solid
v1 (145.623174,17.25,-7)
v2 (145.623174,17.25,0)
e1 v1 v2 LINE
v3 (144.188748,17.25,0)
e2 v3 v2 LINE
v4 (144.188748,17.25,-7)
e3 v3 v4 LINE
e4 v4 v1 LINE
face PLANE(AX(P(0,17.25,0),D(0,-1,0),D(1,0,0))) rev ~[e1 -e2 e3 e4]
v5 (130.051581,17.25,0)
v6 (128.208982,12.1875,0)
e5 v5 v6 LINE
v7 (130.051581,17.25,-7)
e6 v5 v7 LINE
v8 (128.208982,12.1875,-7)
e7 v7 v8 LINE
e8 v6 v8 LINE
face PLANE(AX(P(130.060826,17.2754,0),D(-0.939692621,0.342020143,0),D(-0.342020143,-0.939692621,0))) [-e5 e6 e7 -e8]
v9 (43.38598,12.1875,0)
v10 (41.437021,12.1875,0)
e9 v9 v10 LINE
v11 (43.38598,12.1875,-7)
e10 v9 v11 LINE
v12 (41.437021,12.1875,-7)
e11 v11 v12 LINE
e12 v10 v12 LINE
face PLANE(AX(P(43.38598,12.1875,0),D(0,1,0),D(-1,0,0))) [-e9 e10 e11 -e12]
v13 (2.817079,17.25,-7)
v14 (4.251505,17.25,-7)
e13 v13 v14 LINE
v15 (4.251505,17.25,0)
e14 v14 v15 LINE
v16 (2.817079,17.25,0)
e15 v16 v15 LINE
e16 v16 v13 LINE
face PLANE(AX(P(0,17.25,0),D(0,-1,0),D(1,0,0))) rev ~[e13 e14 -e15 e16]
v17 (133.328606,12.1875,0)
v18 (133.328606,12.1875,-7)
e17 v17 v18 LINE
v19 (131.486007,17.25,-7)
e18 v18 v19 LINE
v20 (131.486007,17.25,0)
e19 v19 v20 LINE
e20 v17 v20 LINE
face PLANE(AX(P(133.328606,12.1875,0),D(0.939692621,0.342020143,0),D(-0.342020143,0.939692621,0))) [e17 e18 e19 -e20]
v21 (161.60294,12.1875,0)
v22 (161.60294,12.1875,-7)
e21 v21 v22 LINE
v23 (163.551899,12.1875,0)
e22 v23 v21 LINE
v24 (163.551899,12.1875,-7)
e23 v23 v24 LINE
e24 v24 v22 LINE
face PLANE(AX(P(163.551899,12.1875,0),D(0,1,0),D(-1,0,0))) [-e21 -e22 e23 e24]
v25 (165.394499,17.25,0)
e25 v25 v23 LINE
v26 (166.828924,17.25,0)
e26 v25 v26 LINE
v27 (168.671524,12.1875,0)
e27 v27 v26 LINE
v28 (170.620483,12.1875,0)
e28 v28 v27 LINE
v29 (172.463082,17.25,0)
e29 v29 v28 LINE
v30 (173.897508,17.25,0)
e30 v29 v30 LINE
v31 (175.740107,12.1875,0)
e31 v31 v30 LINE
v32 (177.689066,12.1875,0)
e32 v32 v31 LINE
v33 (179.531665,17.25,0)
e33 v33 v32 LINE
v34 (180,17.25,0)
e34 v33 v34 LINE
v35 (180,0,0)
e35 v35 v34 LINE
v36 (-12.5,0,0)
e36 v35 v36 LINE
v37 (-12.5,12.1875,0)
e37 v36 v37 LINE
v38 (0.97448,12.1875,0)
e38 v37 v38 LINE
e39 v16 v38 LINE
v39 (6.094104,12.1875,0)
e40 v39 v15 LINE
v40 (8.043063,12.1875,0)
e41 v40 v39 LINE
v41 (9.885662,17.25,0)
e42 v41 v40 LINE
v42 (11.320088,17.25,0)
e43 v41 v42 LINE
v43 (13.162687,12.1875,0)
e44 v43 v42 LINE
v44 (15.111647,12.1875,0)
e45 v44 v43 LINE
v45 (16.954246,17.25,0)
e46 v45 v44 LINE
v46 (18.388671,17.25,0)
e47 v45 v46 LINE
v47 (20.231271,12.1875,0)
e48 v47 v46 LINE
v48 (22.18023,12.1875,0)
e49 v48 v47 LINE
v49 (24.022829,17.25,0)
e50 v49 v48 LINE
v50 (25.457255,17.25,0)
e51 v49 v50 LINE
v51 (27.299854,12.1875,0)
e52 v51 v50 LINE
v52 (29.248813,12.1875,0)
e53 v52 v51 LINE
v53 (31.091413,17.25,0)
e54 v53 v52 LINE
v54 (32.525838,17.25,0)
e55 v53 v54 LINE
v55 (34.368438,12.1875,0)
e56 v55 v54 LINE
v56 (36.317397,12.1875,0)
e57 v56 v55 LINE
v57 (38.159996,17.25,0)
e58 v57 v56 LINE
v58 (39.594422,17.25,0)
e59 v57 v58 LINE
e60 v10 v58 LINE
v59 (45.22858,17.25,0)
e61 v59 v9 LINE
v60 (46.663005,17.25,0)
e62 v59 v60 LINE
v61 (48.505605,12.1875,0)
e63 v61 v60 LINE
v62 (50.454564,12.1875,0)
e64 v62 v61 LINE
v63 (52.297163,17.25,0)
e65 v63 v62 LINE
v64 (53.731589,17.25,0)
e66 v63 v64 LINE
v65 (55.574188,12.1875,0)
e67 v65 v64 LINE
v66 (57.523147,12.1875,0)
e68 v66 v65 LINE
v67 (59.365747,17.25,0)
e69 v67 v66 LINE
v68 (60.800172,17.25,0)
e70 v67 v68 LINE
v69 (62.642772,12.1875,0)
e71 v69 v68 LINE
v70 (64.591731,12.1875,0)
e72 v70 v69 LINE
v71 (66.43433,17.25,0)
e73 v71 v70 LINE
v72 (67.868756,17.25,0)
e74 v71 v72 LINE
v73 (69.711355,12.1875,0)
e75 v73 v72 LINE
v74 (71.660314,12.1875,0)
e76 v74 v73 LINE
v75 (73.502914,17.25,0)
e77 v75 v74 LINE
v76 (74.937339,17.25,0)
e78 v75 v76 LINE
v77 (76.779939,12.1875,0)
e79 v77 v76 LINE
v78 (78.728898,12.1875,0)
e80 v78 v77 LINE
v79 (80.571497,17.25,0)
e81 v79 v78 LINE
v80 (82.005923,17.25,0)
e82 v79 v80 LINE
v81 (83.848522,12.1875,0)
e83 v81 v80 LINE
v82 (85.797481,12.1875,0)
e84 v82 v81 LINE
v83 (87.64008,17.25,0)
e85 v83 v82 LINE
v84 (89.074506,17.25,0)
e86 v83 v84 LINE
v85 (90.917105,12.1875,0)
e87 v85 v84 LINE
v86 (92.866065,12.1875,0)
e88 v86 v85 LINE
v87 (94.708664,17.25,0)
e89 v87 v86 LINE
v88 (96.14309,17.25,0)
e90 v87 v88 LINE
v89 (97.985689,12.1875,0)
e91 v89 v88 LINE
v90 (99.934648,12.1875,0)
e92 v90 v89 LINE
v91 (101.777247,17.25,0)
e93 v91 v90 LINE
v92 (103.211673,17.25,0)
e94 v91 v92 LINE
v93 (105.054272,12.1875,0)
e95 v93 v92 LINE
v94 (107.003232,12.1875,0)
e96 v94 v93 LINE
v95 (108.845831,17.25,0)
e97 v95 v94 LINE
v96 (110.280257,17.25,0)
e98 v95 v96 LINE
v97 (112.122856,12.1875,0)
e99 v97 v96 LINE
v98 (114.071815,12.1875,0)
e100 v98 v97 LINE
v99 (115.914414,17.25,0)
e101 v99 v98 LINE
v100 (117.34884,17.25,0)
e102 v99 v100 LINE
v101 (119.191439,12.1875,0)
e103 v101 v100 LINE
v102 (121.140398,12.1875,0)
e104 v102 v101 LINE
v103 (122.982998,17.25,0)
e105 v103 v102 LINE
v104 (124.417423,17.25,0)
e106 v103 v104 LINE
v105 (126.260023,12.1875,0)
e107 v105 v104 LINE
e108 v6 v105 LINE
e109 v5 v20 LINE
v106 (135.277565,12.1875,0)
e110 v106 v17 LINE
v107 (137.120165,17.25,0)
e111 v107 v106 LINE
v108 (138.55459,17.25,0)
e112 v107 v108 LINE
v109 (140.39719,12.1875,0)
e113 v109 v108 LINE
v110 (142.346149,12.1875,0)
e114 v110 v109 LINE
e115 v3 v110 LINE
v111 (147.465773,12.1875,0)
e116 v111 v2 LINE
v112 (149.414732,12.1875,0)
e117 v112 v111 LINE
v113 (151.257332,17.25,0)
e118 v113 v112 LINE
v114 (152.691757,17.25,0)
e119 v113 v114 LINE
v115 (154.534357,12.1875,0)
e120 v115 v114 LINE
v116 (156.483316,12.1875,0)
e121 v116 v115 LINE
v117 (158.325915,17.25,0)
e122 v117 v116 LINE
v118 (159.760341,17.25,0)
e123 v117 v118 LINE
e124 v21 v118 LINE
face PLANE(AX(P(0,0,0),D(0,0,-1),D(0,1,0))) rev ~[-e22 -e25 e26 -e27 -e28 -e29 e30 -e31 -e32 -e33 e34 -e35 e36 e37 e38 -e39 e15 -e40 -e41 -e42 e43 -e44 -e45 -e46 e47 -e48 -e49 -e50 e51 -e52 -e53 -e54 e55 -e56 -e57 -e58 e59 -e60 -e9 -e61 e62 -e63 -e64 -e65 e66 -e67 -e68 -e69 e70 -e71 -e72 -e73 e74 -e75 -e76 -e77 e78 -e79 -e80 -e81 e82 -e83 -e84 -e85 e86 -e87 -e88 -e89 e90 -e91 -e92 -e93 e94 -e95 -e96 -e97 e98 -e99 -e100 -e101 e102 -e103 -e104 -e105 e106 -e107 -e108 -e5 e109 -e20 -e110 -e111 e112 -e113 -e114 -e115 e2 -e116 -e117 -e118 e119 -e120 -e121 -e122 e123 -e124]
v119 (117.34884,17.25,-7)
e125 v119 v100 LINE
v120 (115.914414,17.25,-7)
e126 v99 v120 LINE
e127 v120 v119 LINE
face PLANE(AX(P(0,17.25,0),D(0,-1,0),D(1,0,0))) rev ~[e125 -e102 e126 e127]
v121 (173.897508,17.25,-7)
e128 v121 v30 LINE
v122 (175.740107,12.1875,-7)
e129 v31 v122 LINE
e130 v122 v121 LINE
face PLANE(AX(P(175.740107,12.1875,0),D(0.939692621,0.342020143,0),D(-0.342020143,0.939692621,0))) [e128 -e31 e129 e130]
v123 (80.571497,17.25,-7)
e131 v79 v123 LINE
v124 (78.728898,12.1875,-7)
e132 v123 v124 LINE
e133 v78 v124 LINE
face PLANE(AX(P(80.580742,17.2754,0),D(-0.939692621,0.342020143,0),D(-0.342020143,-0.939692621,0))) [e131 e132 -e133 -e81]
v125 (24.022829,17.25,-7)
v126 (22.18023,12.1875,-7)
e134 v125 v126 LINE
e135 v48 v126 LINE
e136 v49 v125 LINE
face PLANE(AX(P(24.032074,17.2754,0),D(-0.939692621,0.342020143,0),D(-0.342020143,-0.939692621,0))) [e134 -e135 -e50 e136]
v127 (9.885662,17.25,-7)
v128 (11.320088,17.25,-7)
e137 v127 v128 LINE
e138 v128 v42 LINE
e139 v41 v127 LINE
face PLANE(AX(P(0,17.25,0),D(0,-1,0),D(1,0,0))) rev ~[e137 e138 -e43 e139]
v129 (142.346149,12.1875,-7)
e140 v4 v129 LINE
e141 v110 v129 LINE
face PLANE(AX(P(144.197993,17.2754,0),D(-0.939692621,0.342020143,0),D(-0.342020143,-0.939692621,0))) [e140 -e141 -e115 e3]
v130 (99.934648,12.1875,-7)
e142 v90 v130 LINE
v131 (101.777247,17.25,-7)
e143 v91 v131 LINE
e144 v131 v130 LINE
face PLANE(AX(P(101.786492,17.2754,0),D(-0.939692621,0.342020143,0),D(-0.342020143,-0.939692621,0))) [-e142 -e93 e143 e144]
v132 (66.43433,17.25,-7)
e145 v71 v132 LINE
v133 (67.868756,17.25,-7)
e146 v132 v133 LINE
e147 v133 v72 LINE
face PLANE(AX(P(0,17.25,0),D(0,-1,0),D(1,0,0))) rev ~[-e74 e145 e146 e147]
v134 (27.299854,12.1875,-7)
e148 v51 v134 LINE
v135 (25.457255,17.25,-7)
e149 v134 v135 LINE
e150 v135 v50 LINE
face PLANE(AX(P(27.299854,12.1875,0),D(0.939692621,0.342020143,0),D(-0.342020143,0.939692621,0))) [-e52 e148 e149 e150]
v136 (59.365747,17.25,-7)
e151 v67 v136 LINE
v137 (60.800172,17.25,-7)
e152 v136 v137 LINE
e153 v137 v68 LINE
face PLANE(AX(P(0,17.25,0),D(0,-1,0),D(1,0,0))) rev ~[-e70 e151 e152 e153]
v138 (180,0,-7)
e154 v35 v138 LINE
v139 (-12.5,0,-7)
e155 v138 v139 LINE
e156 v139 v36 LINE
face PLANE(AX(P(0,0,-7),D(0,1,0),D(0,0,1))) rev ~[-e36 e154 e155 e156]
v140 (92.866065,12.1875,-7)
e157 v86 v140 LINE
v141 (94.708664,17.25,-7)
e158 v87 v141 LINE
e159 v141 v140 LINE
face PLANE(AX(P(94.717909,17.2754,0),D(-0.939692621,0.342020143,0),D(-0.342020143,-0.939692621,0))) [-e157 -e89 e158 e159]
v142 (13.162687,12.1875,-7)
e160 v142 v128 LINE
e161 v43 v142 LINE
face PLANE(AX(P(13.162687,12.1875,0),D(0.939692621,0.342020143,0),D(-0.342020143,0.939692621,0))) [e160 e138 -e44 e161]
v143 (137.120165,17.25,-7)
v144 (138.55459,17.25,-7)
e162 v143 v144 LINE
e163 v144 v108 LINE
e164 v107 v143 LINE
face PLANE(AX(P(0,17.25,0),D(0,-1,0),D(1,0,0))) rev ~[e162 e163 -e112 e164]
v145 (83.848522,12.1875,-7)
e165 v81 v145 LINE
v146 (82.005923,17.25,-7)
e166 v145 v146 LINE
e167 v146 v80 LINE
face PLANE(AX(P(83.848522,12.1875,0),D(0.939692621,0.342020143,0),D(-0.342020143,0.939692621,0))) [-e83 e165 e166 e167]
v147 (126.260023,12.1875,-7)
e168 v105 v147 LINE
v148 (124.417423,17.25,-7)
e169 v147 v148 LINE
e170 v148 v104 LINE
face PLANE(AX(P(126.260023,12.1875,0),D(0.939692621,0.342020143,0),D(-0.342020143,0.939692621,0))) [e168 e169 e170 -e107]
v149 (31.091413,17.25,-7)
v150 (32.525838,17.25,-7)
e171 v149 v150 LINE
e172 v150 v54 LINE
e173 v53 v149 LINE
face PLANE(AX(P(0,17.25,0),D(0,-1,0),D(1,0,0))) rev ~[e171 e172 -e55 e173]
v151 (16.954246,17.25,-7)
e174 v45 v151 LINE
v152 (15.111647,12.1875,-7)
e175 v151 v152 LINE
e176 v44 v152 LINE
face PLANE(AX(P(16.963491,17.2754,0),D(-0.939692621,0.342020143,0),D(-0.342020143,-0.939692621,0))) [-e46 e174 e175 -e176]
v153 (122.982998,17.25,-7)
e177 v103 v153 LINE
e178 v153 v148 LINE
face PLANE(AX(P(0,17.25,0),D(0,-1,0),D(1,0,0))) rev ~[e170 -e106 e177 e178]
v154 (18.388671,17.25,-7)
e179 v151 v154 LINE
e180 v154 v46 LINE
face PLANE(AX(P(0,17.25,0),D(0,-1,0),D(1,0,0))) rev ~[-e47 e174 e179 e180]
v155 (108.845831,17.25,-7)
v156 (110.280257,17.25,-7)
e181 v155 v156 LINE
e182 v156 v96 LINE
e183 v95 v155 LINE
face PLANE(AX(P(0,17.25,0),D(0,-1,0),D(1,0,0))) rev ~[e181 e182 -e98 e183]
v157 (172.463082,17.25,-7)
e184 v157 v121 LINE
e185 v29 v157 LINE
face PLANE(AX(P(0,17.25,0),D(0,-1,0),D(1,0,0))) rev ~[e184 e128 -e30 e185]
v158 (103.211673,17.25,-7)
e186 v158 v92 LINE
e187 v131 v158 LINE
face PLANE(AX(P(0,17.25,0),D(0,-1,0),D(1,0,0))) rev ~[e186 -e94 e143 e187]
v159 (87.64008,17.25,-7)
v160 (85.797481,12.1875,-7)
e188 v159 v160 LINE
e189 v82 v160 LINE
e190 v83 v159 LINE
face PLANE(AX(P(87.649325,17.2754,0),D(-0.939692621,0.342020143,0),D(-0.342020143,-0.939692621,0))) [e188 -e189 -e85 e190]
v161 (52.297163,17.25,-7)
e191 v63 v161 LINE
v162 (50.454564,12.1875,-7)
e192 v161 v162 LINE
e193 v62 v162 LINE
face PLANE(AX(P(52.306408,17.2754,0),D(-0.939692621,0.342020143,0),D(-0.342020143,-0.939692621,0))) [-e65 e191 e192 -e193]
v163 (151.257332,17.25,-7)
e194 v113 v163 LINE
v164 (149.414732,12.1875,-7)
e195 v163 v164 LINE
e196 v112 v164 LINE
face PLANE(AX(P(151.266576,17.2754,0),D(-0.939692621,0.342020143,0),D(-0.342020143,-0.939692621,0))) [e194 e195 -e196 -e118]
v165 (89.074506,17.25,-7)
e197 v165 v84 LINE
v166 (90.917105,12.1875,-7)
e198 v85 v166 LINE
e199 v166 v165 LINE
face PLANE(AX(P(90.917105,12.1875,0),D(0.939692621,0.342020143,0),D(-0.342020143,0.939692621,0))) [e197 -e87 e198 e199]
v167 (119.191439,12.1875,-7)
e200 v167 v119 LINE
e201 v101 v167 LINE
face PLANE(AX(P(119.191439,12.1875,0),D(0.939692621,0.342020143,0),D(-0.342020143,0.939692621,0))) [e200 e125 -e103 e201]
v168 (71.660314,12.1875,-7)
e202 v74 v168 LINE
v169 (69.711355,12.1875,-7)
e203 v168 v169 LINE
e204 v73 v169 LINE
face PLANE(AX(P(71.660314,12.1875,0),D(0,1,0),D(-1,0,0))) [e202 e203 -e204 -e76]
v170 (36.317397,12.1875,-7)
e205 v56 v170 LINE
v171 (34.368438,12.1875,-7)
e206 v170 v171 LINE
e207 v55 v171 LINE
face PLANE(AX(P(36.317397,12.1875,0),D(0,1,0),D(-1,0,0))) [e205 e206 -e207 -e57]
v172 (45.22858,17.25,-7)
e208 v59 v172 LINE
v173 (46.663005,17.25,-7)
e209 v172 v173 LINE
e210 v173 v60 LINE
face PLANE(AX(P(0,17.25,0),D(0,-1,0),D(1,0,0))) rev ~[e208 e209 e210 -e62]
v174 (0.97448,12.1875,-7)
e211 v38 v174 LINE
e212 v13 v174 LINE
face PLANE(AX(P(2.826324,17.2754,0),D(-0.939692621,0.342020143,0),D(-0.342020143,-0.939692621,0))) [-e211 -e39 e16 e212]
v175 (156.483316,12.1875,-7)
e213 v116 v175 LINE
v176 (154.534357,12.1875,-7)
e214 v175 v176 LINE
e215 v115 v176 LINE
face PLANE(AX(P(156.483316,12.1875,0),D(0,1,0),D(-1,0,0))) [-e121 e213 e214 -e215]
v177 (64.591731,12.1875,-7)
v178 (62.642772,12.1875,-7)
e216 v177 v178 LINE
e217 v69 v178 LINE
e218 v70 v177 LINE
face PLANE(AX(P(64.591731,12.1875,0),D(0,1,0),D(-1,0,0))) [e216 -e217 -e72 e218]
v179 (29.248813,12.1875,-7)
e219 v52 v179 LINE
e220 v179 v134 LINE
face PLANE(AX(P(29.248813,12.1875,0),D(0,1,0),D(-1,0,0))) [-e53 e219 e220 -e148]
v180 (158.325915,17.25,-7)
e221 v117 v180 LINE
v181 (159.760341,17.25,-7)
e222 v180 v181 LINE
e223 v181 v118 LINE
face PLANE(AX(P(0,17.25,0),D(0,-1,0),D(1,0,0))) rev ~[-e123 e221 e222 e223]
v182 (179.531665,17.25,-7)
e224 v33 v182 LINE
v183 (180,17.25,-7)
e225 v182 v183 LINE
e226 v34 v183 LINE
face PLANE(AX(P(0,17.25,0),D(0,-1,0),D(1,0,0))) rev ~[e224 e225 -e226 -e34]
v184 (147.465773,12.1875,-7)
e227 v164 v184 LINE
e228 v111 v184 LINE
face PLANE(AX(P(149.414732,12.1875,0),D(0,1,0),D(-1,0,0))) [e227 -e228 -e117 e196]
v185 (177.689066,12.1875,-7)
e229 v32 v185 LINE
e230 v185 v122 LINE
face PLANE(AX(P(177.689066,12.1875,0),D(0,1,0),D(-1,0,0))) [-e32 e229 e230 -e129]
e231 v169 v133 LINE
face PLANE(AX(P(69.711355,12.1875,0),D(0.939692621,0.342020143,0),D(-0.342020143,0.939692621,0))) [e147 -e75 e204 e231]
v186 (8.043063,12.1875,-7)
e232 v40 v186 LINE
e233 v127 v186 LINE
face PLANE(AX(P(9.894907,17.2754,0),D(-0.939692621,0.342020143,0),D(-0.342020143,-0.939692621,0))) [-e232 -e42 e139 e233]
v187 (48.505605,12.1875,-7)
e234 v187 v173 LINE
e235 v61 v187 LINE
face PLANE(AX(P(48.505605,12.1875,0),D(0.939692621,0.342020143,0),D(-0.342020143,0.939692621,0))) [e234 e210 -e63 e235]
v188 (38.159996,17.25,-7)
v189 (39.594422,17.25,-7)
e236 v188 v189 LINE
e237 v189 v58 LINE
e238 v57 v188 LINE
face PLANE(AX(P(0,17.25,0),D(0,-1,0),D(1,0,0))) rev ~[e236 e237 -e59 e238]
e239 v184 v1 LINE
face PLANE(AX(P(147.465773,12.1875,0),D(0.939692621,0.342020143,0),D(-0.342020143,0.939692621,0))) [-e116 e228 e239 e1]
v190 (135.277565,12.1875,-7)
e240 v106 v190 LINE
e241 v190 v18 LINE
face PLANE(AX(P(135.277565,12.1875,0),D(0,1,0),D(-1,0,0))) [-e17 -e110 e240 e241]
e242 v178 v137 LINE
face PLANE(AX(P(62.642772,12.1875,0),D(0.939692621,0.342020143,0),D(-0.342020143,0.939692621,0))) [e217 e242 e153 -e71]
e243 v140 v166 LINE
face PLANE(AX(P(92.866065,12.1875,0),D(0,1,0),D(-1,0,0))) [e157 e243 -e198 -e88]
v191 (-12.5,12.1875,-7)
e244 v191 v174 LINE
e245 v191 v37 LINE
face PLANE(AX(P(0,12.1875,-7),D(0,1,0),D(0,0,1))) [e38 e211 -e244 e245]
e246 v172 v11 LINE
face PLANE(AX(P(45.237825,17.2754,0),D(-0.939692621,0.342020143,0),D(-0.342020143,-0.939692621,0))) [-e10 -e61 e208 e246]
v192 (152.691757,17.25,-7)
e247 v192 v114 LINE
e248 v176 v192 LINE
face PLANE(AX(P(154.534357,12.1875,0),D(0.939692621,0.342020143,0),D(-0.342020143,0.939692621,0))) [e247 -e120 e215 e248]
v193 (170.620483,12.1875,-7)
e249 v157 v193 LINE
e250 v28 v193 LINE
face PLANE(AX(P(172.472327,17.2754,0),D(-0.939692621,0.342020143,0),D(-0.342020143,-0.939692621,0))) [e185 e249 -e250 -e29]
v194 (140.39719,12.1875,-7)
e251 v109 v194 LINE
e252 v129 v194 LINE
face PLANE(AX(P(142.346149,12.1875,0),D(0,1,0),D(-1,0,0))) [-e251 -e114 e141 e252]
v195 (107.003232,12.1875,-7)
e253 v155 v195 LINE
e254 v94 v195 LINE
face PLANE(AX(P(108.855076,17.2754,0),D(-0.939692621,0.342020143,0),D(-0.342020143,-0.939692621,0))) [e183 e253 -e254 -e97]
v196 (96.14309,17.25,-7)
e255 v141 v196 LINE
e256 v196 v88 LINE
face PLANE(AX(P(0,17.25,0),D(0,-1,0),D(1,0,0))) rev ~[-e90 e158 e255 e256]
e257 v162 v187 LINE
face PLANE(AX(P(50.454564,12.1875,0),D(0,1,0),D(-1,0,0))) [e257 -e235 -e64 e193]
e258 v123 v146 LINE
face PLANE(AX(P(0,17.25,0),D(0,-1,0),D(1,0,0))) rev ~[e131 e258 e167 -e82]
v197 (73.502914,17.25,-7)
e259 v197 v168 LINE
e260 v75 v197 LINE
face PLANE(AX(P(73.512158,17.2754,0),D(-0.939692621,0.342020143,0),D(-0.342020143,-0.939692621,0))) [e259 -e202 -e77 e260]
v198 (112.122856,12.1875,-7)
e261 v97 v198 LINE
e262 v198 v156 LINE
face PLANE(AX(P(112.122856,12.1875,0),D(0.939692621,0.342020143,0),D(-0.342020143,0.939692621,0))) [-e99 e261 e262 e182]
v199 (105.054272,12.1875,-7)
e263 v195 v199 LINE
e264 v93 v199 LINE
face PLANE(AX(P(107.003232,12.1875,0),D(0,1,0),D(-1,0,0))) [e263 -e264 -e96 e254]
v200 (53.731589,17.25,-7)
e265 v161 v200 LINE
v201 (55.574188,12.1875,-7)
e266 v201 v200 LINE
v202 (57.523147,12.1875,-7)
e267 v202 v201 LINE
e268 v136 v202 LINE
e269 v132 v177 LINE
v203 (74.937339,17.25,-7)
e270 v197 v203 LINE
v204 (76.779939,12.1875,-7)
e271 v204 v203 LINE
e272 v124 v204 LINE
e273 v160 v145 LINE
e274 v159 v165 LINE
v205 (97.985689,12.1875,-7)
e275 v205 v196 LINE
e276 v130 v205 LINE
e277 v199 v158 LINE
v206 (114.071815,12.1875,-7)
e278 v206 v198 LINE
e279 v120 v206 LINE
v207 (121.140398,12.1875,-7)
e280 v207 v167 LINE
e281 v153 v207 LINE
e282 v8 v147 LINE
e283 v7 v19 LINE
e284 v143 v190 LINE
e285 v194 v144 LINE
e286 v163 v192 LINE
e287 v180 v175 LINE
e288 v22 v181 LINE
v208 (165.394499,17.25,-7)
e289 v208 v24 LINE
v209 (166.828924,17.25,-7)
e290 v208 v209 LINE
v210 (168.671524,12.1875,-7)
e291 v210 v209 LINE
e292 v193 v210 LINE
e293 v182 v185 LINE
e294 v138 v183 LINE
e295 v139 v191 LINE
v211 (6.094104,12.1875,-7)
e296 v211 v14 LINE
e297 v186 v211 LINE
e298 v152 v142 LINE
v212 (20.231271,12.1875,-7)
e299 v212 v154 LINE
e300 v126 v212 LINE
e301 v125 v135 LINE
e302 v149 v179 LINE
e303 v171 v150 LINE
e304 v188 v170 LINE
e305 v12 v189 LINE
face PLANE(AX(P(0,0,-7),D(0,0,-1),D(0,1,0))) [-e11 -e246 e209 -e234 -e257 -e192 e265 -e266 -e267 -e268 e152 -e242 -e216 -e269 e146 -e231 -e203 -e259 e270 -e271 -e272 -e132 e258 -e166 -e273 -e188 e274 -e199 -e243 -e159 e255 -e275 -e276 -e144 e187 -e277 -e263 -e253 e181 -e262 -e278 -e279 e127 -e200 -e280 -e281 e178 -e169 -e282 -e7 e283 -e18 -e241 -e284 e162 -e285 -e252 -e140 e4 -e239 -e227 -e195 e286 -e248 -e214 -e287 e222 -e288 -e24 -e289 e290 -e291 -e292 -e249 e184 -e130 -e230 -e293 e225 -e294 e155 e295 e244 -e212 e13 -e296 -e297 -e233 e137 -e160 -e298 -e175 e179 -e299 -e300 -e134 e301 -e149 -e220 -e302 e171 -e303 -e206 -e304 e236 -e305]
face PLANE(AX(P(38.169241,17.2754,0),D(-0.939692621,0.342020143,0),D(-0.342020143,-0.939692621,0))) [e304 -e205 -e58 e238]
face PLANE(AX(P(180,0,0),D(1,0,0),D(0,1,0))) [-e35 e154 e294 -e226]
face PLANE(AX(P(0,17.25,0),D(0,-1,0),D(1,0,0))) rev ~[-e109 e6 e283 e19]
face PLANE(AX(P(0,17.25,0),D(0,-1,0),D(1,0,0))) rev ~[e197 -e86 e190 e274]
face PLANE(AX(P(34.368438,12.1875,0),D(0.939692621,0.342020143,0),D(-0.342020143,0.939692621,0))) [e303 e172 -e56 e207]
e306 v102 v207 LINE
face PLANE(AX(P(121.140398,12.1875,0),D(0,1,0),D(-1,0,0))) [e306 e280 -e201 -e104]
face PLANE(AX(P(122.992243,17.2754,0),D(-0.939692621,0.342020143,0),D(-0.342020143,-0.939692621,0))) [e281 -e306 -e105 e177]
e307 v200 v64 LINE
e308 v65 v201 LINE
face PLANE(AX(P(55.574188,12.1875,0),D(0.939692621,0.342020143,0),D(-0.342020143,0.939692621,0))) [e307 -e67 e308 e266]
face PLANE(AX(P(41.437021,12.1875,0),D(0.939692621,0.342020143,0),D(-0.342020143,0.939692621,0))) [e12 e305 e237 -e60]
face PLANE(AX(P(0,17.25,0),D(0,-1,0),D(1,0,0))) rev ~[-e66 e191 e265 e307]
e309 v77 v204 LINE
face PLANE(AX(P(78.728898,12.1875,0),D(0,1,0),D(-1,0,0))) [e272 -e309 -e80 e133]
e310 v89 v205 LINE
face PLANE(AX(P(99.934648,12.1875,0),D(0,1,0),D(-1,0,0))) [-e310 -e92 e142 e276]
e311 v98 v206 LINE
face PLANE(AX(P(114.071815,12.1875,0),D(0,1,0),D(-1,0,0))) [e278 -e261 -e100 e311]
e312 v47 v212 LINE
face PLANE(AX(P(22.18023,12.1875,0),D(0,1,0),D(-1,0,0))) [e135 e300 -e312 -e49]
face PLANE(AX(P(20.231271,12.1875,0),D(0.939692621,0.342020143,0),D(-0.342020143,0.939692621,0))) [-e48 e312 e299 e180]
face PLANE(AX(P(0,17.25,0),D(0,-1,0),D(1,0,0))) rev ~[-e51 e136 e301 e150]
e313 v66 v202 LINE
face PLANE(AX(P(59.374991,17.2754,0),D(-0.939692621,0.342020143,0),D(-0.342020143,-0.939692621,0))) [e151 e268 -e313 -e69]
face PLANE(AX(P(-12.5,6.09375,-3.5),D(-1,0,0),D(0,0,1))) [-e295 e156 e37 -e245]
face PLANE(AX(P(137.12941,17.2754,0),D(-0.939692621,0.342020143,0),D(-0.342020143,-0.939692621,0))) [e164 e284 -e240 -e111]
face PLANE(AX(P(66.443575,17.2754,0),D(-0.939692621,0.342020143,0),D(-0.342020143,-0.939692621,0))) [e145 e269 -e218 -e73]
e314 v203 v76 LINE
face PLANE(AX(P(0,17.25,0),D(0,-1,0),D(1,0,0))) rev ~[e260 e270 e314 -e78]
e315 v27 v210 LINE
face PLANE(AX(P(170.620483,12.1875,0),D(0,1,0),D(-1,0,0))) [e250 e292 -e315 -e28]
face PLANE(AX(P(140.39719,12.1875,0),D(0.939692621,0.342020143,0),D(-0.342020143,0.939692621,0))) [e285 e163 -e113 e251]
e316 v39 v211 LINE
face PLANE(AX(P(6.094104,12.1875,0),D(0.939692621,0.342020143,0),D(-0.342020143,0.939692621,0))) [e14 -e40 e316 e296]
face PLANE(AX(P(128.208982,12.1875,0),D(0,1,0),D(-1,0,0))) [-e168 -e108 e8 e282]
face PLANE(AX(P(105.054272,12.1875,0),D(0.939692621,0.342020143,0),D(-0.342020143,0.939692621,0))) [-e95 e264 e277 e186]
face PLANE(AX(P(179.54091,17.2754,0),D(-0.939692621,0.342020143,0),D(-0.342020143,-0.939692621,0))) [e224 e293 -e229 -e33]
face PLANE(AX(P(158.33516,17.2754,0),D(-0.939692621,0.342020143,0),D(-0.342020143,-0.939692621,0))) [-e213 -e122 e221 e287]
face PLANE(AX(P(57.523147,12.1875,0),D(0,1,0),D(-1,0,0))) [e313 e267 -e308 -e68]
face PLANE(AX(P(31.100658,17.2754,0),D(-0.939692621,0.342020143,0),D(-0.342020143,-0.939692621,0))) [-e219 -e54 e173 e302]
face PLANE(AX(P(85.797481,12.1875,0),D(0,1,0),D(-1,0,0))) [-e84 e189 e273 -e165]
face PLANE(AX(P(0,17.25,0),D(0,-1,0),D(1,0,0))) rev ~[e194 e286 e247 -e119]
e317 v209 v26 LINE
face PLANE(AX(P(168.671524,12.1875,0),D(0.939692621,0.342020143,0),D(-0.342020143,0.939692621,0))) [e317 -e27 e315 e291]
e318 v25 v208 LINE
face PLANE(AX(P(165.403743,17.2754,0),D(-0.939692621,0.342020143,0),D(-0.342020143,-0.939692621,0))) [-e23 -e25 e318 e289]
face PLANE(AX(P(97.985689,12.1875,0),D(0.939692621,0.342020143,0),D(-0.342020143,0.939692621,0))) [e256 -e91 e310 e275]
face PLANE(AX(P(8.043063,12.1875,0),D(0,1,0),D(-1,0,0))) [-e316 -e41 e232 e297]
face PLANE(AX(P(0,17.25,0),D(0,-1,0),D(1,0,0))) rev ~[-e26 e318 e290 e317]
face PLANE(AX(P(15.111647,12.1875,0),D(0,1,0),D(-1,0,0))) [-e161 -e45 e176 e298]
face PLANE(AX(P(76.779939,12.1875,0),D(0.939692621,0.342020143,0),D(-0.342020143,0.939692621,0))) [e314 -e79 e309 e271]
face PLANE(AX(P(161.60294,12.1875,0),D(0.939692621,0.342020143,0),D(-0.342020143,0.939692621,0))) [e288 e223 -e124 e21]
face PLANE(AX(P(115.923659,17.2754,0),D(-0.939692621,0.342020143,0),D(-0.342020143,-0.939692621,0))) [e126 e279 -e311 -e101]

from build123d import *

# Parameters (mm, degrees)
BLANKSKE_W          = 180
BLANKSKE_H          = 17.25
BLANK_DEPTH         = 7
TOOTHCUTSIM_DEPTH   = 181.960113008
TEETHCUTS_COUNT     = 26
TEETHCUTS_PITCH     = 7.068583463
SKETCH1_W           = 7
SKETCH1_H           = 12.1875
BOSS_EXTRUDE1_DEPTH = 12.5


with BuildPart() as part:
    # BlankSke → Blank (new body)
    with BuildSketch(Plane.XY):
        with Locations((90, 8.625)):
            Rectangle(BLANKSKE_W, BLANKSKE_H)
    extrude(amount=-BLANK_DEPTH)

    # TooCutSkeSim → ToothCutSim (cut, through all)
    with BuildSketch(Plane.XY):
        Polygon((0.974479582, 12.1875), (-0.974479582, 12.1875), (-2.826323737, 17.2754), (2.826323737, 17.2754), align=None)
    toothcutsim = extrude(amount=-TOOTHCUTSIM_DEPTH, mode=Mode.SUBTRACT)

    # TeethCuts: ToothCutSim ×26
    with Locations(*[(i * TEETHCUTS_PITCH, 0, 0) for i in range(1, TEETHCUTS_COUNT)]):
        add(toothcutsim, mode=Mode.SUBTRACT)

    # Sketch1 → Boss-Extrude1 (add)
    with BuildSketch(Plane.ZY):
        with Locations((-3.5, 6.09375)):
            Rectangle(SKETCH1_W, SKETCH1_H)
    extrude(amount=BOSS_EXTRUDE1_DEPTH)


solid = part.part
